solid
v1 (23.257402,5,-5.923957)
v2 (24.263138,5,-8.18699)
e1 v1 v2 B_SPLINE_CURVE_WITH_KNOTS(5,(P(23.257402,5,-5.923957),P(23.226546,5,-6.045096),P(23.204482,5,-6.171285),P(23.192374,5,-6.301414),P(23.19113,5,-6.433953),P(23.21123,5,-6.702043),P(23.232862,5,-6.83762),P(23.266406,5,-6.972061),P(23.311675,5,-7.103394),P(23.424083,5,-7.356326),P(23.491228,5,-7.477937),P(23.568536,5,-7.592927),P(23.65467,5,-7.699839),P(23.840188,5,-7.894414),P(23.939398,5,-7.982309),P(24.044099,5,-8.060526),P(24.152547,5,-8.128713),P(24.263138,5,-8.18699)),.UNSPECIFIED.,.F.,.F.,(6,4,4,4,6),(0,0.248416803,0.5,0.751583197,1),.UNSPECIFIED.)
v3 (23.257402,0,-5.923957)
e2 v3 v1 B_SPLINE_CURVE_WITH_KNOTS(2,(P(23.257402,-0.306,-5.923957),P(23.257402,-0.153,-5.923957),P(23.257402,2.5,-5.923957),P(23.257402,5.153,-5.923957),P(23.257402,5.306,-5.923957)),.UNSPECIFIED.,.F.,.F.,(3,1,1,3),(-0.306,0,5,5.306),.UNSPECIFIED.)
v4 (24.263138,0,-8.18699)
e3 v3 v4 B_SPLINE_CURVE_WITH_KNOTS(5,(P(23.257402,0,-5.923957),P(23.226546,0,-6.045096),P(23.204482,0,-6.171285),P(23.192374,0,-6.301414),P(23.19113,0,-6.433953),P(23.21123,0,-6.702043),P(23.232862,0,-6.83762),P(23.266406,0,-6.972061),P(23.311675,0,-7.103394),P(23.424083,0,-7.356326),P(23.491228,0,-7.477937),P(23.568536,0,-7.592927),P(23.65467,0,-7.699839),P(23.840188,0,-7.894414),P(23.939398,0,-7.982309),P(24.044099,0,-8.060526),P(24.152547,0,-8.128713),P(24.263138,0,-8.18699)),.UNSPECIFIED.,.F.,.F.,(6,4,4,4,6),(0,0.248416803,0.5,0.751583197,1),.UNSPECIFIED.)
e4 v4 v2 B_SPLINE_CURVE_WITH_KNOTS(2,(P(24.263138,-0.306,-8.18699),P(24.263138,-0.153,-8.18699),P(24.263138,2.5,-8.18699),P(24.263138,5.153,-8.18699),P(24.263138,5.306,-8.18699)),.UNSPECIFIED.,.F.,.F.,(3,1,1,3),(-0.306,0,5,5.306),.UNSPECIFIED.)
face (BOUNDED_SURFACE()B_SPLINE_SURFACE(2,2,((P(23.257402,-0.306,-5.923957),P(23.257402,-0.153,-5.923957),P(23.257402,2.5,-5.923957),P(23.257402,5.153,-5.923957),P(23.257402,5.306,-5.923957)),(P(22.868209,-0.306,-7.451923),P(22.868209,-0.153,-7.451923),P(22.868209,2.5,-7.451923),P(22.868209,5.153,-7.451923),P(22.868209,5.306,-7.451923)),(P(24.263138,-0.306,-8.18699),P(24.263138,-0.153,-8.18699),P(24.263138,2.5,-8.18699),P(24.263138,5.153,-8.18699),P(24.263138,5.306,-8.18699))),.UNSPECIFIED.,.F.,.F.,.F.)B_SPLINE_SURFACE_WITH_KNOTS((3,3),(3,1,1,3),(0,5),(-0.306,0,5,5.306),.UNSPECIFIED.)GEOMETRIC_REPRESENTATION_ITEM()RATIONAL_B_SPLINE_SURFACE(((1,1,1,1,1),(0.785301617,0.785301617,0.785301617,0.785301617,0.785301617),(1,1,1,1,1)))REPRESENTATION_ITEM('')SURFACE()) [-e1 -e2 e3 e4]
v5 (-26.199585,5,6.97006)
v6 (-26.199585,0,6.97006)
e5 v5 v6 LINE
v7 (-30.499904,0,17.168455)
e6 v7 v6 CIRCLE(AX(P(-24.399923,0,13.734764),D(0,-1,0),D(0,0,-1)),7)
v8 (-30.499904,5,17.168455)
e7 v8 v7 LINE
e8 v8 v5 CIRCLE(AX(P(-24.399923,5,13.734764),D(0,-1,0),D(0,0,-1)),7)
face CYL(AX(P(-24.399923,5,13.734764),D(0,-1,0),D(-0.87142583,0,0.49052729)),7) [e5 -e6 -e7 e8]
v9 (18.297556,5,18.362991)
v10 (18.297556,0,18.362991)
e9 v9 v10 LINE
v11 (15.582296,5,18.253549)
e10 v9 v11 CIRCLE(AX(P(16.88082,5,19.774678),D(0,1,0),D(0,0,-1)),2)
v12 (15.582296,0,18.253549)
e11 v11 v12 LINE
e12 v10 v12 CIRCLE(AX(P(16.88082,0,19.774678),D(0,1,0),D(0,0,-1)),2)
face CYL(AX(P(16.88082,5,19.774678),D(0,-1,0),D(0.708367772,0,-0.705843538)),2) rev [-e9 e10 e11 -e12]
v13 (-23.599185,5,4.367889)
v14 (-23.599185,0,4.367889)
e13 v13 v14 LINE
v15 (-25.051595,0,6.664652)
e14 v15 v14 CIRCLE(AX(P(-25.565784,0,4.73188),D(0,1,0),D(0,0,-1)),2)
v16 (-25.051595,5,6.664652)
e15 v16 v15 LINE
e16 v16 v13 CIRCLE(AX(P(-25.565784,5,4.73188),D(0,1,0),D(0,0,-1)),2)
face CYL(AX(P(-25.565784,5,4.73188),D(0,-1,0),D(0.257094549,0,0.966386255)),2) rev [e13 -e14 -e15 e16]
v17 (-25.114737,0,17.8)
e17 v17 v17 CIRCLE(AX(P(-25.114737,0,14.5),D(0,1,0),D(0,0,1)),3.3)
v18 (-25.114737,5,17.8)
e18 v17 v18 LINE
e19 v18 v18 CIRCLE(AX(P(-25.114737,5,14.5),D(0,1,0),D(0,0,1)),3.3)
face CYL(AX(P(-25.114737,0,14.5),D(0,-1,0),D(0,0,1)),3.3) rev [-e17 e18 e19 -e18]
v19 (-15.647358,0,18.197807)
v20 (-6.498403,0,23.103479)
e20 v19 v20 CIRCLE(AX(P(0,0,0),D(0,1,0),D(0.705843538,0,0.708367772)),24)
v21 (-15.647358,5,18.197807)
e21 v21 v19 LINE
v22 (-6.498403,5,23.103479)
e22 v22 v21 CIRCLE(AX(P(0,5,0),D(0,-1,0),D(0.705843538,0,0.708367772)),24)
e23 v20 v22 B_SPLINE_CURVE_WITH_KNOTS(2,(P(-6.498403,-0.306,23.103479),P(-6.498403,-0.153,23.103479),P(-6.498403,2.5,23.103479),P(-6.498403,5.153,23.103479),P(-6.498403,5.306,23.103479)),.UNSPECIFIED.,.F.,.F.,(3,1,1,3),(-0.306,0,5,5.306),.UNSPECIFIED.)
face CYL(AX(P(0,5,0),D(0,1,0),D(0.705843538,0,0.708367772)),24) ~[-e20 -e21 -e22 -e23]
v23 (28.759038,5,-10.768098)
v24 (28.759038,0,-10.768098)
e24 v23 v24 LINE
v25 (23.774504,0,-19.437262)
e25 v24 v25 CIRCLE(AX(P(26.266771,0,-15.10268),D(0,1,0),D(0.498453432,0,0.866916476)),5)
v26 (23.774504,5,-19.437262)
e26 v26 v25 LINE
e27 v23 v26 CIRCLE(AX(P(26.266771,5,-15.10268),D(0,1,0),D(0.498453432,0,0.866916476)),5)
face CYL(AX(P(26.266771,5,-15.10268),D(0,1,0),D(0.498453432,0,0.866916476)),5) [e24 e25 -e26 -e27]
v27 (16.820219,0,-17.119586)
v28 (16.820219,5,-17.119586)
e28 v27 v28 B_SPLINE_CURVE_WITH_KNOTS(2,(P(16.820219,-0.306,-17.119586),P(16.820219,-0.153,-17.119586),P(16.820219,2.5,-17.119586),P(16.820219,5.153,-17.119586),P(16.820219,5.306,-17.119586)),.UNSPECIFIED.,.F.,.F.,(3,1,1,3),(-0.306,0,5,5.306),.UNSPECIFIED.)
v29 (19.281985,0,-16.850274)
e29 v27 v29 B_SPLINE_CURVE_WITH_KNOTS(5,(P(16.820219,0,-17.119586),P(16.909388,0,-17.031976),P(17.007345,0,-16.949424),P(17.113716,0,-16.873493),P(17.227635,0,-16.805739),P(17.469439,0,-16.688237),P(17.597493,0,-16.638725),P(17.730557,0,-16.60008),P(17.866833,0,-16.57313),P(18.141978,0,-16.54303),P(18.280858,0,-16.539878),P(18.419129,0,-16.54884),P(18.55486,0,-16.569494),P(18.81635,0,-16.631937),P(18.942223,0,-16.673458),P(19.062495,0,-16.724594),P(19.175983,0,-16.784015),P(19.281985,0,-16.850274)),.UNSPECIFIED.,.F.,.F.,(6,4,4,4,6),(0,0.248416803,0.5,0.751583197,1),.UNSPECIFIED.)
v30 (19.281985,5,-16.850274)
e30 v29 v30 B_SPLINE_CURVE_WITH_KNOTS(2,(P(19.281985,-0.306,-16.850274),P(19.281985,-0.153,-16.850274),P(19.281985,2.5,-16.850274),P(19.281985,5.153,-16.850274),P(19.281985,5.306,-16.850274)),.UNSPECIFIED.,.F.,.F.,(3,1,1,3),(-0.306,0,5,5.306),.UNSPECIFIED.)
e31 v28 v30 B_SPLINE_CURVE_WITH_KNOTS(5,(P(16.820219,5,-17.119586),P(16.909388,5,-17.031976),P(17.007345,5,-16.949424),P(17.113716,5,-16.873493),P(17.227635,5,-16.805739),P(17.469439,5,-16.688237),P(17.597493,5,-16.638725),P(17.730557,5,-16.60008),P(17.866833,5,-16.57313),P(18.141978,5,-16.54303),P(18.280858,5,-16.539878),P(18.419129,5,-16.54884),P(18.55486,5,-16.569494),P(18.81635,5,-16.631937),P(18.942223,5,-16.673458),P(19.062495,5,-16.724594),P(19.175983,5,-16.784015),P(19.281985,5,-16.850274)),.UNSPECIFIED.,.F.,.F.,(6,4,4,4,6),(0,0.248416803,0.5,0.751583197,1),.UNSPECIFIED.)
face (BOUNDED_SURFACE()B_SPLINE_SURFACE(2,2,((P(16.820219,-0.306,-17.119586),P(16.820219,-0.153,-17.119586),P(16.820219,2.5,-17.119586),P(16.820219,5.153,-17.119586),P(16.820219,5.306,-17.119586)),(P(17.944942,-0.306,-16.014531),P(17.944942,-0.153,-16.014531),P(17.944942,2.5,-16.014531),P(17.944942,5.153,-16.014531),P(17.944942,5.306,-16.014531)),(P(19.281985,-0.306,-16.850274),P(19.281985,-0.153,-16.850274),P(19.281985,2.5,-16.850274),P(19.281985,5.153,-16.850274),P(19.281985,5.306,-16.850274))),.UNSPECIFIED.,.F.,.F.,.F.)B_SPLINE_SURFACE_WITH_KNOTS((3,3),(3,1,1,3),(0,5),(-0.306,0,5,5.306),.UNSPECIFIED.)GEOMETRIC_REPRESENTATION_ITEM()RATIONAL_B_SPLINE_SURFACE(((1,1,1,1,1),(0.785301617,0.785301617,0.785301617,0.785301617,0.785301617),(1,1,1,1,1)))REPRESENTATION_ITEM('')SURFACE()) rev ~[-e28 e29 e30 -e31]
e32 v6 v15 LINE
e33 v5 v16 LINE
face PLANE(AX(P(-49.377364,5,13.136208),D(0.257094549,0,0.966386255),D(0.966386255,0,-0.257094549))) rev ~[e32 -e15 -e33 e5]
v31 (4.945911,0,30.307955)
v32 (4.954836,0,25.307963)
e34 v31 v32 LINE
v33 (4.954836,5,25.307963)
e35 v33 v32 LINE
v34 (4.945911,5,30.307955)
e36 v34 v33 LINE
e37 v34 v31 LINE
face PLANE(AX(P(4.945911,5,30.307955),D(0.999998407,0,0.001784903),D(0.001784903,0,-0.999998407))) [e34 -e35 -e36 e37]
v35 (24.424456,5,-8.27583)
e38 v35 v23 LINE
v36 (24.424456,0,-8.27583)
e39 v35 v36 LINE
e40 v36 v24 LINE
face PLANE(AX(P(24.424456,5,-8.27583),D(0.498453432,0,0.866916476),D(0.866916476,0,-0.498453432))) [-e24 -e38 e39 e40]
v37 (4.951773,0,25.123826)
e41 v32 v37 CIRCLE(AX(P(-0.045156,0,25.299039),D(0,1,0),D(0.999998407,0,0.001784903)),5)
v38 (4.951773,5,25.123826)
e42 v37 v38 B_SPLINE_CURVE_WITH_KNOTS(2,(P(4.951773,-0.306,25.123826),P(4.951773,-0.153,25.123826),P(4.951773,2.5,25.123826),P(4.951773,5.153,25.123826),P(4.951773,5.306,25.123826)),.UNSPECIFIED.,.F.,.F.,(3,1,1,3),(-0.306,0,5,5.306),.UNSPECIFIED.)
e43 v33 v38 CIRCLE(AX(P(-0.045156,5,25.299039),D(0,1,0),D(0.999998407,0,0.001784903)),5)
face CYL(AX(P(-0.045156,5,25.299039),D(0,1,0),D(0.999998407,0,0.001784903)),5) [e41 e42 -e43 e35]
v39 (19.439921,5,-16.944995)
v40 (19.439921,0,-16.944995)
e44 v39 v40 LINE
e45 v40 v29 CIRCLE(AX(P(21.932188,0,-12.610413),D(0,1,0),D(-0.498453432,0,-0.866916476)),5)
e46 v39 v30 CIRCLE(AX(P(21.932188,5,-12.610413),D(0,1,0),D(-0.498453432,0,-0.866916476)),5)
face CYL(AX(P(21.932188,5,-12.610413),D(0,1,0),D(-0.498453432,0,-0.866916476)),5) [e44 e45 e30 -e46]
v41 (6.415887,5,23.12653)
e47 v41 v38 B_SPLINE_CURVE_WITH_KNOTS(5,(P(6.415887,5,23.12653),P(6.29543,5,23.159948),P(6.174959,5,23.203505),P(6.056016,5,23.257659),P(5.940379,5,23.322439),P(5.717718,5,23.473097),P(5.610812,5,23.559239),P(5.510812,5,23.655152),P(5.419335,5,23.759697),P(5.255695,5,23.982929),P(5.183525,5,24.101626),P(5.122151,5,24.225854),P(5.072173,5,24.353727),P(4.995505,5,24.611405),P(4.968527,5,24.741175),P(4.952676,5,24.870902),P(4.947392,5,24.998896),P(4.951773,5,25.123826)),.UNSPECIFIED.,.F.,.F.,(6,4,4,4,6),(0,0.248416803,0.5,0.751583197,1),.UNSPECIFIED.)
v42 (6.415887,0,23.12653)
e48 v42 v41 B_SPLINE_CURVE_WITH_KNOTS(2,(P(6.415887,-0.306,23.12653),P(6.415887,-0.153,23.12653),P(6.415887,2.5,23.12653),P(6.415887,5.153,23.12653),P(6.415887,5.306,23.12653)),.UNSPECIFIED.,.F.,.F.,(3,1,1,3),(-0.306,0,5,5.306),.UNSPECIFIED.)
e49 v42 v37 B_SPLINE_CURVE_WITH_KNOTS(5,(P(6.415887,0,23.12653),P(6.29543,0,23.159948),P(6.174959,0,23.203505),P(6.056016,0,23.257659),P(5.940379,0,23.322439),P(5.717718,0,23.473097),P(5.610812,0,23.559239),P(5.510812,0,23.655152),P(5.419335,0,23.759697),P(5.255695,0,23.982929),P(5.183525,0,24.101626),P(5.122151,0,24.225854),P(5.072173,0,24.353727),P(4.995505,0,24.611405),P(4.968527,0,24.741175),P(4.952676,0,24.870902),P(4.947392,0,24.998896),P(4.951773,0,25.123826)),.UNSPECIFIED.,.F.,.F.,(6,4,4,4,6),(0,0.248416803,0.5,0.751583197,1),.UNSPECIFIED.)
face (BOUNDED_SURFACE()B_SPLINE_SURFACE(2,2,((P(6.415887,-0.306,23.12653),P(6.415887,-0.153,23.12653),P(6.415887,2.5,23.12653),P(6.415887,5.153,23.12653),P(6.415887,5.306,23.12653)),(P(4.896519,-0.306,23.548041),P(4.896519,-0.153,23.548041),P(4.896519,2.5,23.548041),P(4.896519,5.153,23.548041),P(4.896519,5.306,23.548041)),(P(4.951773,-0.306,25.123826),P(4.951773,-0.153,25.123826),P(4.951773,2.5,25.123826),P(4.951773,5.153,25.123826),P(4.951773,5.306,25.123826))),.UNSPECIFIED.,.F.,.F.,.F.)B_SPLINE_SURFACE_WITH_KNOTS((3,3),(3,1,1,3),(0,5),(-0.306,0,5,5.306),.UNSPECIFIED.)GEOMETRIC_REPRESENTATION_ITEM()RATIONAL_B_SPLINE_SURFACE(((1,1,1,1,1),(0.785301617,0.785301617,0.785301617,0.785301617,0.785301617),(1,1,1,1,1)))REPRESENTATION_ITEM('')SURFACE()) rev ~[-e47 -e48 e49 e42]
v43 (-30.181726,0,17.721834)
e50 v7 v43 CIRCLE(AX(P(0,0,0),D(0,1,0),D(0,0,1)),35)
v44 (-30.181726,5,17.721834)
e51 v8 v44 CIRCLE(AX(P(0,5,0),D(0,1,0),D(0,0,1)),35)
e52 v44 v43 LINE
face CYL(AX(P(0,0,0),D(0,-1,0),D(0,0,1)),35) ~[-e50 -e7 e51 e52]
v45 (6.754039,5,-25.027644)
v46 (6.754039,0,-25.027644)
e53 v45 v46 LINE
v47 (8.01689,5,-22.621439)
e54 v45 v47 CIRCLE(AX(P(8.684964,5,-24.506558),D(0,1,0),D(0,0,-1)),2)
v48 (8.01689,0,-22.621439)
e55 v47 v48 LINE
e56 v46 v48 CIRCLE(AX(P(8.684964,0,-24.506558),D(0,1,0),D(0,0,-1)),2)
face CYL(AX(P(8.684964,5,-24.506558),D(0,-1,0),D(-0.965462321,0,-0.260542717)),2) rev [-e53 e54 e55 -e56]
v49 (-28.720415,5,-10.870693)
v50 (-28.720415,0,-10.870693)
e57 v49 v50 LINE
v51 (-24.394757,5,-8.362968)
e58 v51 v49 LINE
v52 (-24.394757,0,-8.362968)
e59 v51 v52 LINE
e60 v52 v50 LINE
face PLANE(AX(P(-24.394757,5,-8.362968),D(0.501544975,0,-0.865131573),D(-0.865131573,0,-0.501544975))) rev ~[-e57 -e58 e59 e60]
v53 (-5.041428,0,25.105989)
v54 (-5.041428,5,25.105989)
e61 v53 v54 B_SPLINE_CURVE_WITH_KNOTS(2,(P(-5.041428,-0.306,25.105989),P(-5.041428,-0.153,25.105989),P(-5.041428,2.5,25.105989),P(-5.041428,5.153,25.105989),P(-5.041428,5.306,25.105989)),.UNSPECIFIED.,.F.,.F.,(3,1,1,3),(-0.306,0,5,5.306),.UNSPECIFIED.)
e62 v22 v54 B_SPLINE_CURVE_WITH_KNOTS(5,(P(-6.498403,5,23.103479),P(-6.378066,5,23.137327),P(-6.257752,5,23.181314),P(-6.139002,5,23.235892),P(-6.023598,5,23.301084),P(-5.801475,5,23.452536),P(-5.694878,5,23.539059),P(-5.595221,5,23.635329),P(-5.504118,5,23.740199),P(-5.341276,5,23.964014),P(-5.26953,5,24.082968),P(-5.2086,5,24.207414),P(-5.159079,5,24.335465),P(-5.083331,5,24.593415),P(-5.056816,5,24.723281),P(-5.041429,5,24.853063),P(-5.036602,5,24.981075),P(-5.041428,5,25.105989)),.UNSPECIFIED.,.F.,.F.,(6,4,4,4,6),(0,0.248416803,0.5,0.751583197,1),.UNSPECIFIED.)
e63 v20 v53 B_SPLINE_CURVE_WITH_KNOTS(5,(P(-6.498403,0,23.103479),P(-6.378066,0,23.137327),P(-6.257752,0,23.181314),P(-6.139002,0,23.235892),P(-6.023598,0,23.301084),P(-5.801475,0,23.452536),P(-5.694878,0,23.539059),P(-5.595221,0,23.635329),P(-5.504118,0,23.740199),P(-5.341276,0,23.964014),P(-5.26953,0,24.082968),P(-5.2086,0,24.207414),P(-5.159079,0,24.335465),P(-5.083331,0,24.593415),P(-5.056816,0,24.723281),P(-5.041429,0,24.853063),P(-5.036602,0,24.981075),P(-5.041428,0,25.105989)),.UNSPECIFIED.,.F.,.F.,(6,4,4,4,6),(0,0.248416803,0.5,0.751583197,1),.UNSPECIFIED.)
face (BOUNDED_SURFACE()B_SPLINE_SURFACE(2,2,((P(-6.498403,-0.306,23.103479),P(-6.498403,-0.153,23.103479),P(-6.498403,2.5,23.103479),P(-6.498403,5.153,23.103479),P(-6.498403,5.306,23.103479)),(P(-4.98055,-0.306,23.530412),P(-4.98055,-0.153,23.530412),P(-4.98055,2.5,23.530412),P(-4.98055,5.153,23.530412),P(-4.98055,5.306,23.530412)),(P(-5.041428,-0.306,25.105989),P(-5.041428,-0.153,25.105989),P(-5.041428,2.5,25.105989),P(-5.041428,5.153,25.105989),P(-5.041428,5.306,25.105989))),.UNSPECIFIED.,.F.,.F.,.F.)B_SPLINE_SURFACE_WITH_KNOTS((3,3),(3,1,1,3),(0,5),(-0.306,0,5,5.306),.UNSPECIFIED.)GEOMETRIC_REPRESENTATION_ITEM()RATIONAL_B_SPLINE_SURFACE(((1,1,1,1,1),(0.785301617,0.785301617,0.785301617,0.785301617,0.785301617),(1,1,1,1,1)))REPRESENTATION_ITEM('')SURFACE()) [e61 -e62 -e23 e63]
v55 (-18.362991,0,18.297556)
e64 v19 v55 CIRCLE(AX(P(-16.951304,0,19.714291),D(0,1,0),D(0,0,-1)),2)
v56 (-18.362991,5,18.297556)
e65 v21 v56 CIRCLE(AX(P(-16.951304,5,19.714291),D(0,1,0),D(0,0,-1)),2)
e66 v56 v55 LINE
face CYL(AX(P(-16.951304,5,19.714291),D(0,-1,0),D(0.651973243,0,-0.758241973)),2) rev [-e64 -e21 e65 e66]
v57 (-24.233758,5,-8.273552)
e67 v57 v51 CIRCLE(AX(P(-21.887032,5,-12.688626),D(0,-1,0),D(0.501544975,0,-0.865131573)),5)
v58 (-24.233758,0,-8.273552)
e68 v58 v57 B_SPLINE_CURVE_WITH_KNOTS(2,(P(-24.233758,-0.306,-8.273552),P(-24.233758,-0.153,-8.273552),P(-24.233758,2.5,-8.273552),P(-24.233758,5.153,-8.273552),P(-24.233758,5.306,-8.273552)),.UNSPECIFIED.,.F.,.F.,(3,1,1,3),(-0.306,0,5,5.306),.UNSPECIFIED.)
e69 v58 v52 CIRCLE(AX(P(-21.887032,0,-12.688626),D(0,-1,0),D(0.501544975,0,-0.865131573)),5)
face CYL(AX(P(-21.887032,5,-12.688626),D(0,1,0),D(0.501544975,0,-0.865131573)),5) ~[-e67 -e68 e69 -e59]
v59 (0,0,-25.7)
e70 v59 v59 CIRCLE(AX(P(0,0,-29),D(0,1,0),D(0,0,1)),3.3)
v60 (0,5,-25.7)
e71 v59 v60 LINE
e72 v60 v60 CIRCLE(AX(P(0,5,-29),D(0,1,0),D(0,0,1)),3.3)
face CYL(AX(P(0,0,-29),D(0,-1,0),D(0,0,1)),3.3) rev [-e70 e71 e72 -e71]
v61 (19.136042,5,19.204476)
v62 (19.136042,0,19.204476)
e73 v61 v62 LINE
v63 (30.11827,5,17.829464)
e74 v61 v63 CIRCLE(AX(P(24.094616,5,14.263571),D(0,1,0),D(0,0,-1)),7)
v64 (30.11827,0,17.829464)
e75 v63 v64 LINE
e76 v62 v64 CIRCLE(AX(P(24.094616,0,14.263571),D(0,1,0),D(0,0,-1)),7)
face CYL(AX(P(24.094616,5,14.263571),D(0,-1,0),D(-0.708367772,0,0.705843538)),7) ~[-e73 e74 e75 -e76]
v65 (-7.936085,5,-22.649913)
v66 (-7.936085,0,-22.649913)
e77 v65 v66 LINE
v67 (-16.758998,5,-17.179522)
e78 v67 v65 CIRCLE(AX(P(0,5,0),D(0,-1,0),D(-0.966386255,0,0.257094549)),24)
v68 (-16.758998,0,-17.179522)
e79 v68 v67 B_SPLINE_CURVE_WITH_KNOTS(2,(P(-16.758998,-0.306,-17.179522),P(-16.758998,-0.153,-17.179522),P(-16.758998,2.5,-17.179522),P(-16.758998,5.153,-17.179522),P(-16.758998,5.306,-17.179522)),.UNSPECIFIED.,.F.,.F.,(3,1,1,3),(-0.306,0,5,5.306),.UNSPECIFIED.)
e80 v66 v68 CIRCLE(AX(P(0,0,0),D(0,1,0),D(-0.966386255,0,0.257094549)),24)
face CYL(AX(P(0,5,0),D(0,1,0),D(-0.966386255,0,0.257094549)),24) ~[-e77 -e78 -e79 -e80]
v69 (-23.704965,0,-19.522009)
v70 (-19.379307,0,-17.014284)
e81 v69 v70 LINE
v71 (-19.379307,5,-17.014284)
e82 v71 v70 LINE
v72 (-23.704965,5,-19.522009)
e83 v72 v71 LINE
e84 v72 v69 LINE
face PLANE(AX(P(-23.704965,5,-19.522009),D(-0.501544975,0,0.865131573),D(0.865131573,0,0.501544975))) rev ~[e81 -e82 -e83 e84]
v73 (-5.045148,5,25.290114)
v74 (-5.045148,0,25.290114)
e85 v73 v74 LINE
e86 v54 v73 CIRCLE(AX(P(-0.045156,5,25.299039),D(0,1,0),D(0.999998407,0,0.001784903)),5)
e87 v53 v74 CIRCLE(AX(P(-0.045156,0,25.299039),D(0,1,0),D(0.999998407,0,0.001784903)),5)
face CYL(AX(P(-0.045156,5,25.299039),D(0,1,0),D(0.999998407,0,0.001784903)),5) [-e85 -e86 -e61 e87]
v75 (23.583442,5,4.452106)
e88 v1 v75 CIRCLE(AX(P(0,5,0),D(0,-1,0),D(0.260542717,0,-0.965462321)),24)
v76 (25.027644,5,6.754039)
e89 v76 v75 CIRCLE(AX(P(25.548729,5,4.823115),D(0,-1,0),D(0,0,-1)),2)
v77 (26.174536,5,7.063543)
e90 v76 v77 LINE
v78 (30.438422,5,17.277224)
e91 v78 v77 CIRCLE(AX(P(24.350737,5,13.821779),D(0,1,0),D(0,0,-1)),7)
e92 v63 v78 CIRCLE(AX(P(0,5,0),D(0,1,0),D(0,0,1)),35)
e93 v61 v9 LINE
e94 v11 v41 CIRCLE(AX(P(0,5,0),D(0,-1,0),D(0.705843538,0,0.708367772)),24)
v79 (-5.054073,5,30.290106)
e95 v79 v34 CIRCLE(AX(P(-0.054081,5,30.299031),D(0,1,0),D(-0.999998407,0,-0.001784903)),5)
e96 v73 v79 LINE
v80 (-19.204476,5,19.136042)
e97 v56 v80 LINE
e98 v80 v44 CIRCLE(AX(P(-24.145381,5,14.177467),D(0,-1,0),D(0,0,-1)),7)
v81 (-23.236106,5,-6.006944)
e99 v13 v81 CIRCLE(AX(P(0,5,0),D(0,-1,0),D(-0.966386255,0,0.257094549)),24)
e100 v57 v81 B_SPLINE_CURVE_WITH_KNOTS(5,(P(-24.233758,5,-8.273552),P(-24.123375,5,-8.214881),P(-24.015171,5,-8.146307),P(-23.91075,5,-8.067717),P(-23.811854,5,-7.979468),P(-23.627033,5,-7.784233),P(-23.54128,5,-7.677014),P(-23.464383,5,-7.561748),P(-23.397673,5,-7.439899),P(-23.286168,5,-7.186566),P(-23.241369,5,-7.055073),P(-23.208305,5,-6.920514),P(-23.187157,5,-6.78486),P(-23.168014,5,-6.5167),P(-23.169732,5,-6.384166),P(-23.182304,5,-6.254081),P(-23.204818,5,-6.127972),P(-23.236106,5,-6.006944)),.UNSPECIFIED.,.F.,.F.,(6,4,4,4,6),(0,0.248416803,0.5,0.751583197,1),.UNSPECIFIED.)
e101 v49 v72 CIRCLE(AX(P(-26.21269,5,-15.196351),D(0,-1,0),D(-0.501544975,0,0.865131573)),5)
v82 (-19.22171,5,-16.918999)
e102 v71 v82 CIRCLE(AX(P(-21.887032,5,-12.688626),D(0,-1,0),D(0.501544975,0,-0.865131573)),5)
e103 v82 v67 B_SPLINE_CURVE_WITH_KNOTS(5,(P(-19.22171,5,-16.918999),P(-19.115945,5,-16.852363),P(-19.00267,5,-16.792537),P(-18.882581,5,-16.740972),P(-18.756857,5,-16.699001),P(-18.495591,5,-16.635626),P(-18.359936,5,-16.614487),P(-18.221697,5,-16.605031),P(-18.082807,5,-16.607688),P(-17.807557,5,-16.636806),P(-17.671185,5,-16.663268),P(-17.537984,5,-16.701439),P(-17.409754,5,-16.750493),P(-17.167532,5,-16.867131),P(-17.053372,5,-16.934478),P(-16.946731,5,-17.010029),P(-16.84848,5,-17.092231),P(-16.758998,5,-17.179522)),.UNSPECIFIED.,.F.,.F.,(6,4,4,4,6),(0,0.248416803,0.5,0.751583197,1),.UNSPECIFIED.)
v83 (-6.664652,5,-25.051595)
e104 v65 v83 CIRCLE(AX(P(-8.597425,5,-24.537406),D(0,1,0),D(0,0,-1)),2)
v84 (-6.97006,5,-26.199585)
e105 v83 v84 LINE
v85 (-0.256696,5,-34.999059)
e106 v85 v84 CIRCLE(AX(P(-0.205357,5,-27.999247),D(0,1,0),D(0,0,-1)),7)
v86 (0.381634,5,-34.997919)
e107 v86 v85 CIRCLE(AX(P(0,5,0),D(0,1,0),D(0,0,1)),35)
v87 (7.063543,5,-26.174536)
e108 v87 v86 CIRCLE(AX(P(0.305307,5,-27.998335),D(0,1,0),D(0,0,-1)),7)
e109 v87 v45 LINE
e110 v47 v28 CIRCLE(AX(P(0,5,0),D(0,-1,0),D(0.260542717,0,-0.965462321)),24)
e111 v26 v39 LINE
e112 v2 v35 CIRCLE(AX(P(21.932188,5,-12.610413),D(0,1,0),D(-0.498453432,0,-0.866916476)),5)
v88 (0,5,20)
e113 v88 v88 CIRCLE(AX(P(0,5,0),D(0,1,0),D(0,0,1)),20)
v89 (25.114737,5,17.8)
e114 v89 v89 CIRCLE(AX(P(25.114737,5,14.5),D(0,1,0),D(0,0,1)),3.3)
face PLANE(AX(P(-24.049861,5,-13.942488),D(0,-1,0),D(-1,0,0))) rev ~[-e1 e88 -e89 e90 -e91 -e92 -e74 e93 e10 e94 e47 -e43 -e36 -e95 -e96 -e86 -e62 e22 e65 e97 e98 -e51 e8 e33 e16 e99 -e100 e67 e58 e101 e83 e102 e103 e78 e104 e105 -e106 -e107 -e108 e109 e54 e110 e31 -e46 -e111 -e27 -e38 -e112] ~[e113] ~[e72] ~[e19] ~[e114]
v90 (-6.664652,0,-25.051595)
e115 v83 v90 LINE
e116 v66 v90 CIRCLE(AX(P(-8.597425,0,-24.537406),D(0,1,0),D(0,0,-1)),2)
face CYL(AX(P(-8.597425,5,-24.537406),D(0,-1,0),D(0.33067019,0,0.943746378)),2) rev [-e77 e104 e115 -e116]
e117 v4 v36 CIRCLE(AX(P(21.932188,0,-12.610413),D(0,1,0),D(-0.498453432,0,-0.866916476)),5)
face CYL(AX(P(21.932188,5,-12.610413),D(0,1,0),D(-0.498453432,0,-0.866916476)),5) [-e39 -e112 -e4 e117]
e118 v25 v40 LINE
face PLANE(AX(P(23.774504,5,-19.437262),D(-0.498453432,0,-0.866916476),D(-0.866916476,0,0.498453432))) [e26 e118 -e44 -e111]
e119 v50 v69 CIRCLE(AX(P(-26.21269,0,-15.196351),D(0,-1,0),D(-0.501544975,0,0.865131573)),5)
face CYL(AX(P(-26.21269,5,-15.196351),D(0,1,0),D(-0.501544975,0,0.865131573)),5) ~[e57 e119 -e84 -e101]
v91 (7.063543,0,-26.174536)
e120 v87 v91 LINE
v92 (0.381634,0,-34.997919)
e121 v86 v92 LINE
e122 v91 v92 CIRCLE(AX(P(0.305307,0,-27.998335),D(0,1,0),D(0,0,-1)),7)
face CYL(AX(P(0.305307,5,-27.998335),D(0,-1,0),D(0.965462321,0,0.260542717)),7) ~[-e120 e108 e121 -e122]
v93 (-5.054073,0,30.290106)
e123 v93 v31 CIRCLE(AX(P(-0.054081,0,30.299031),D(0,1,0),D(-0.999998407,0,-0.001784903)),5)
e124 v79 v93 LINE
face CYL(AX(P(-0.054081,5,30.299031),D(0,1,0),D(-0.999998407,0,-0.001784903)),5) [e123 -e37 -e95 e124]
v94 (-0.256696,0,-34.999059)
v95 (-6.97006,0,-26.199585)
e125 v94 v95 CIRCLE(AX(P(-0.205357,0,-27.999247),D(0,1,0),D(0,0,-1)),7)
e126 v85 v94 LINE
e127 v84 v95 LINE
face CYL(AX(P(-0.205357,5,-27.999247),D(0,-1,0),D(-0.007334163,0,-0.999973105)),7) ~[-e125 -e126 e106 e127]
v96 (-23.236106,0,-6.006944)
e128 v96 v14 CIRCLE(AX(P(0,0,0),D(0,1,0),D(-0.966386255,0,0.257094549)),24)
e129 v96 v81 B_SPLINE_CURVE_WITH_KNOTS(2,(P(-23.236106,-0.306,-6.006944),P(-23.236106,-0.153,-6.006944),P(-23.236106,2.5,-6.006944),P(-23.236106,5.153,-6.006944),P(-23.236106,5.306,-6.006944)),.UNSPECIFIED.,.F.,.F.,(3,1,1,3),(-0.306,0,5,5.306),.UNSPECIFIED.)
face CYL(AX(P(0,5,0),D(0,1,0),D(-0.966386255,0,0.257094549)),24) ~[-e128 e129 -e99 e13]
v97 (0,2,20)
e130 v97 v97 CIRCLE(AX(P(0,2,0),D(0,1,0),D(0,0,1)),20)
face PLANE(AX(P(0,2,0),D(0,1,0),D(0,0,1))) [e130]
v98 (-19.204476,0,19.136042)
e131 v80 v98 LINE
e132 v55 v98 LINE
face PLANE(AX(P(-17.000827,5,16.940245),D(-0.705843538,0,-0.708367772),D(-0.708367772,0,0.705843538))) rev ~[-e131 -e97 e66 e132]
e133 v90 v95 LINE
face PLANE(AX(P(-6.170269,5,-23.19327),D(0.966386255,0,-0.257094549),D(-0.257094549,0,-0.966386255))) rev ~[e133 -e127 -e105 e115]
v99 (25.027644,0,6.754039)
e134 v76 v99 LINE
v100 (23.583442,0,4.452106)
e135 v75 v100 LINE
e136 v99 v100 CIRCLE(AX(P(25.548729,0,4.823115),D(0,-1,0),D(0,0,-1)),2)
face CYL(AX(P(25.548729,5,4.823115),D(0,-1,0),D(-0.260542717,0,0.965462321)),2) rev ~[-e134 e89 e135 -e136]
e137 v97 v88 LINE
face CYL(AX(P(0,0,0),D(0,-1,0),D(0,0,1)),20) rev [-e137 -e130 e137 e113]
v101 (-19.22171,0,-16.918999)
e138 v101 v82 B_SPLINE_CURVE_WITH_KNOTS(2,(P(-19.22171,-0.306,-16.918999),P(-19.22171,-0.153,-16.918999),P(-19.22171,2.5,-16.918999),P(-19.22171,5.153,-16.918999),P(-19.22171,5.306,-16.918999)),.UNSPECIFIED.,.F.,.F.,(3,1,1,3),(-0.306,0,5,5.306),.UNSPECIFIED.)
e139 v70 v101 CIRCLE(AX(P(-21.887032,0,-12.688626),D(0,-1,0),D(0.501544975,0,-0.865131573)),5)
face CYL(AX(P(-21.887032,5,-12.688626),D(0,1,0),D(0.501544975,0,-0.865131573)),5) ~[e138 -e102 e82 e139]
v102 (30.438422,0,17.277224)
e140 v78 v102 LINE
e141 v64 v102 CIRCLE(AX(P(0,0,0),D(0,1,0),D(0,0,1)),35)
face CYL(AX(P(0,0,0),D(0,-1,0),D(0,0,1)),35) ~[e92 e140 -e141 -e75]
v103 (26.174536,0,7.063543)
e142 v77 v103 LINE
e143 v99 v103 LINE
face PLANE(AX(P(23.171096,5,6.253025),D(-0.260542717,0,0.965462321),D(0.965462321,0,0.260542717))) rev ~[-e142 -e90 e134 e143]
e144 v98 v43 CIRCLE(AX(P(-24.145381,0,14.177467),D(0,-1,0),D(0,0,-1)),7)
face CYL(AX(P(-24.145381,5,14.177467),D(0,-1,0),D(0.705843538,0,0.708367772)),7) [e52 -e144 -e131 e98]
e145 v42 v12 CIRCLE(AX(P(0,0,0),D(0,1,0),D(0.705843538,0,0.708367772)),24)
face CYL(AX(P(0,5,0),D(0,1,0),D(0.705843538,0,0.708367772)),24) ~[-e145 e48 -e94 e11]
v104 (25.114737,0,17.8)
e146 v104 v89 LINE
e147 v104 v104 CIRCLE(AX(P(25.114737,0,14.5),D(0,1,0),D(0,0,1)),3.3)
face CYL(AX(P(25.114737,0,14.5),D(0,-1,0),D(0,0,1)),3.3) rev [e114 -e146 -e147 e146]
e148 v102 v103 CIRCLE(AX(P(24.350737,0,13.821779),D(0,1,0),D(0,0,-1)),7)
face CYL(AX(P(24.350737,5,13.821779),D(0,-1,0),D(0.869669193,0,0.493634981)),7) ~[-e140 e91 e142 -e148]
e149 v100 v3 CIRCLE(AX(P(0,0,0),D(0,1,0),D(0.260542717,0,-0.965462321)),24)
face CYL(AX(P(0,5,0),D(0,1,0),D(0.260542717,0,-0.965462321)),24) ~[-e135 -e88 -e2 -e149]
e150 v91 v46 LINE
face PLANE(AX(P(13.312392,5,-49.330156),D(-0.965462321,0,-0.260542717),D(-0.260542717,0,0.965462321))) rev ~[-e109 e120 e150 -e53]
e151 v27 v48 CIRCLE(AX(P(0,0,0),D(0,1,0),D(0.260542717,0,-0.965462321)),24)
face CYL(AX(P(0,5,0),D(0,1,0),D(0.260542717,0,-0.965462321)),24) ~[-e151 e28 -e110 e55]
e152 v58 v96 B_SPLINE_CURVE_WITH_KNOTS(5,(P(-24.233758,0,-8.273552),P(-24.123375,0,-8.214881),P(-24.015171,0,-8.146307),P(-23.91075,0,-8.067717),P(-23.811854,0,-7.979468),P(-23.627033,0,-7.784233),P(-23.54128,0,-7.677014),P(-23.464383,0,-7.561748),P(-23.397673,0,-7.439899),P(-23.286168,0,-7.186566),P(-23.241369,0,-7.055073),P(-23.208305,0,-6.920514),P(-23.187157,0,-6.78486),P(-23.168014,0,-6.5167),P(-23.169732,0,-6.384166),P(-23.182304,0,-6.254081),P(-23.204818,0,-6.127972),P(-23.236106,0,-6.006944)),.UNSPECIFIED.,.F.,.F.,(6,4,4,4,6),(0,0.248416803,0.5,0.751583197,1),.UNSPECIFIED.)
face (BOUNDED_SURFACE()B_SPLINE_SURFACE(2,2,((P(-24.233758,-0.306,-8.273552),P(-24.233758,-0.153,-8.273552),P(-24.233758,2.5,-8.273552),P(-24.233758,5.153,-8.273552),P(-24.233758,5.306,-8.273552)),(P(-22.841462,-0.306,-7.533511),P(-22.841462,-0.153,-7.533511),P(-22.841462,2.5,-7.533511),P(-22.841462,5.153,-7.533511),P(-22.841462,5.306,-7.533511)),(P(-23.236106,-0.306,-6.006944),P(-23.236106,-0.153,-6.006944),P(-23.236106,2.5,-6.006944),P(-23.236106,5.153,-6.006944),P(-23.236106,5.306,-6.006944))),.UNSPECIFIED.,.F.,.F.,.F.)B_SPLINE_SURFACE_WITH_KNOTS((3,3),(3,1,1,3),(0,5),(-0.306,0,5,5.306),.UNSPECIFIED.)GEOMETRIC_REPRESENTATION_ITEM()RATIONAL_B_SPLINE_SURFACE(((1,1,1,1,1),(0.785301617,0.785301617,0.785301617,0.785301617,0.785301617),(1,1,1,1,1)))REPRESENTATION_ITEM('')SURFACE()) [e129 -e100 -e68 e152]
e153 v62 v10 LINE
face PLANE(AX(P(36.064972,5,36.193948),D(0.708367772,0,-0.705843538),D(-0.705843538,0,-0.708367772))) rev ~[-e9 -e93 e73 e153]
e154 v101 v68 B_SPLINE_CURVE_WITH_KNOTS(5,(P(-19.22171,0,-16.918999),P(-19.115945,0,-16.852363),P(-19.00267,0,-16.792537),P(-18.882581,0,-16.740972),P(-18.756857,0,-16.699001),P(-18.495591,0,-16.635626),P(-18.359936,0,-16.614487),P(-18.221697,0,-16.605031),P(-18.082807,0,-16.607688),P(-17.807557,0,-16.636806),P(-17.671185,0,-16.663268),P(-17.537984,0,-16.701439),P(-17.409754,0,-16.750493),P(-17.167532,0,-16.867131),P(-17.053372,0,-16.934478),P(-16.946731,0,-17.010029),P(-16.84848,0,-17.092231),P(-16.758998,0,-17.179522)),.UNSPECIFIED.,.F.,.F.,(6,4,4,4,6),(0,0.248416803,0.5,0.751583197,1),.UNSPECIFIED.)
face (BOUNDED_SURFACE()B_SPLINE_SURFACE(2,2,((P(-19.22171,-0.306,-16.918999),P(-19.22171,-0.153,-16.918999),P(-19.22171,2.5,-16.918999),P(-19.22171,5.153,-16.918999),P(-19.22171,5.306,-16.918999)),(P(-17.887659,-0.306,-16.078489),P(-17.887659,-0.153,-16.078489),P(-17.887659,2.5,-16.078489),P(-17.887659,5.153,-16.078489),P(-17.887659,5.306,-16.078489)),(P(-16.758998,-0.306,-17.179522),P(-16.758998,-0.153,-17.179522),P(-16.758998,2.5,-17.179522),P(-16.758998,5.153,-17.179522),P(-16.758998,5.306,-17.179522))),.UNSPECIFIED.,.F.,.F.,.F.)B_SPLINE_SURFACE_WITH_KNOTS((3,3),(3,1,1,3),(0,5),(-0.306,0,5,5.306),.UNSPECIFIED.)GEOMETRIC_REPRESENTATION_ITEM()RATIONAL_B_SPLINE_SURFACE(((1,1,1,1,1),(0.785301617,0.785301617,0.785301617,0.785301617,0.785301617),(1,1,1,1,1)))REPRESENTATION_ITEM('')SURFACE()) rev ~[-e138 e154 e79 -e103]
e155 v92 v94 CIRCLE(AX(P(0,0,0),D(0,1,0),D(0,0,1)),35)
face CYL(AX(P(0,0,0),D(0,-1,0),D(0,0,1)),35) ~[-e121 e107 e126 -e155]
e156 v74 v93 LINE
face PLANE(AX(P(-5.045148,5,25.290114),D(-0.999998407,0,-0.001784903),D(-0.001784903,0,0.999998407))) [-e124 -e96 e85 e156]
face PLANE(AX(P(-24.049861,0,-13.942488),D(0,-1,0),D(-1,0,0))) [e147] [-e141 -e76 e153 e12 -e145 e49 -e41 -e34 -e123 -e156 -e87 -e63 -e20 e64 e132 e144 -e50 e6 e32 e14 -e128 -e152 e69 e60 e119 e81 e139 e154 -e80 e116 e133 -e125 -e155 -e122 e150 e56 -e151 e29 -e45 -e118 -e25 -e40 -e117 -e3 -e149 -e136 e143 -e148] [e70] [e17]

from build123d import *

# Parameters (mm, degrees)
SKETCH1_R           = 20
BOSS_EXTRUDE1_DEPTH = 2
SKETCH2_R           = 35
SKETCH2_R_2         = 20
SKETCH2_R_3         = 3.3
BOSS_EXTRUDE2_DEPTH = 5
CUT_EXTRUDE1_DEPTH  = 10
FILLET1_R           = 2
FILLET2_R           = 7
BOSS_EXTRUDE3_DEPTH = 5
FILLET3_R           = 2


with BuildPart() as part:
    # Sketch1 → Boss-Extrude1 (new body)
    with BuildSketch(Plane(origin=(0, 0, 0), x_dir=(1, 0, 0), z_dir=(0, 1, 0))):
        with Locations(Location((0, 0, 0), (0, 0, 270))):
            Circle(SKETCH1_R)
    extrude(amount=BOSS_EXTRUDE1_DEPTH)

    # Sketch2 → Boss-Extrude2 (add)
    with BuildSketch(Plane(origin=(0, 0, 0), x_dir=(1, 0, 0), z_dir=(0, 1, 0))):
        with Locations(Location((0, 0, 0), (0, 0, 270))):
            Circle(SKETCH2_R)
        with Locations(Location((0, 0, 0), (0, 0, 270))):
            Circle(SKETCH2_R_2, mode=Mode.SUBTRACT)
        with Locations(Location((0, 29, 0), (0, 0, 270))):
            Circle(SKETCH2_R_3, mode=Mode.SUBTRACT)
        with Locations(Location((25.11473671, -14.5, 0), (0, 0, 270))):
            Circle(SKETCH2_R_3, mode=Mode.SUBTRACT)
        with Locations(Location((-25.11473671, -14.5, 0), (0, 0, 270))):
            Circle(SKETCH2_R_3, mode=Mode.SUBTRACT)
    extrude(amount=BOSS_EXTRUDE2_DEPTH)

    # Sketch3 → Cut-Extrude1 (cut)
    with BuildSketch(Plane(origin=(0, 5, 0), x_dir=(1, 0, 0), z_dir=(0, 1, 0))):
        with BuildLine():
            ThreePointArc((-23.193270109, -6.170269172), (-20.763157745, 12.037079399), (-6.170269172, 23.193270109))
            Line((-6.170269172, 23.193270109), (-14.951119735, 56.199389167))
            Line((-14.951119735, 56.199389167), (-49.377364183, -13.136208329))
            Line((-49.377364183, -13.136208329), (-23.193270109, -6.170269172))
        make_face()
        with BuildLine():
            Line((13.312391969, 49.330155919), (6.253025204, 23.171095697))
            ThreePointArc((6.253025204, 23.171095697), (20.805995419, 11.96288237), (23.171095697, -6.253025204))
            Line((23.171095697, -6.253025204), (56.145658563, -15.151645078))
            Line((56.145658563, -15.151645078), (13.312391969, 49.330155919))
        make_face()
        with BuildLine():
            Line((36.064972214, -36.193947589), (16.940244905, -17.000826525))
            ThreePointArc((16.940244905, -17.000826525), (-0.042837674, -23.999961769), (-17.000826525, -16.940244905))
            Line((-17.000826525, -16.940244905), (-41.194538828, -41.047744089))
            Line((-41.194538828, -41.047744089), (36.064972214, -36.193947589))
        make_face()
    extrude(amount=-CUT_EXTRUDE1_DEPTH, mode=Mode.SUBTRACT)

    # Fillet1
    fillet1_edges = [part.edges().sort_by_distance(p)[0] for p in [
        (16.940244905, 2.5, 17.000826525),
        (-17.000826525, 2.5, 16.940244905),
        (6.253025204, 2.5, -23.171095697),
        (23.171095697, 2.5, 6.253025204),
        (-6.170269172, 2.5, -23.193270109),
        (-23.193270109, 2.5, 6.170269172),
    ]]
    fillet(fillet1_edges, radius=FILLET1_R)

    # Fillet2
    fillet2_edges = [part.edges().sort_by_distance(p)[0] for p in [
        (-24.792872016, 2.5, 24.70452382),
        (24.70452382, 2.5, 24.792872016),
        (33.791181225, 2.5, 9.118995089),
        (9.118995089, 2.5, -33.791181225),
        (-8.998309209, 2.5, -33.823518909),
        (-33.823518909, 2.5, 8.998309209),
    ]]
    fillet(fillet2_edges, radius=FILLET2_R)

    # Sketch4 → Boss-Extrude3 (add)
    with BuildSketch(Plane(origin=(0, 5, 0), x_dir=(1, 0, 0), z_dir=(0, 1, 0))):
        with BuildLine():
            Line((-23.70496499, 19.52200868), (-19.379307126, 17.014283806))
            ThreePointArc((-19.379307126, 17.014283806), (-17.561374138, 10.180901067), (-24.394756876, 8.362968079))
            Line((-24.394756876, 8.362968079), (-28.720414739, 10.870692953))
            ThreePointArc((-28.720414739, 10.870692953), (-30.538347728, 17.704075692), (-23.70496499, 19.52200868))
        make_face()
        with BuildLine():
            Line((23.774503624, 19.437262295), (19.439921245, 16.944995134))
            ThreePointArc((19.439921245, 16.944995134), (17.597606027, 10.118145595), (24.424455566, 8.275830376))
            Line((24.424455566, 8.275830376), (28.759037945, 10.768097537))
            ThreePointArc((28.759037945, 10.768097537), (30.601353164, 17.594947076), (23.774503624, 19.437262295))
        make_face()
        with BuildLine():
            Line((4.945911115, -30.307955248), (4.954835631, -25.307963213))
            ThreePointArc((4.954835631, -25.307963213), (-0.036231889, -20.299046662), (-5.04514844, -25.290114182))
            Line((-5.04514844, -25.290114182), (-5.054072955, -30.290106217))
            ThreePointArc((-5.054072955, -30.290106217), (-0.063005435, -35.299022768), (4.945911115, -30.307955248))
        make_face()
    extrude(amount=-BOSS_EXTRUDE3_DEPTH)

    # Fillet3
    fillet3_edges = [part.edges().sort_by_distance(p)[0] for p in [
        (-18.017295098, 2.5, -15.854875507),
        (-22.711825842, 2.5, -7.757123623),
        (22.739372512, 2.5, -7.675997509),
        (18.073779039, 2.5, -15.790456334),
        (-4.722077413, 2.5, 23.530873016),
        (4.638046803, 2.5, 23.547579957),
    ]]
    fillet(fillet3_edges, radius=FILLET3_R)


solid = part.part
